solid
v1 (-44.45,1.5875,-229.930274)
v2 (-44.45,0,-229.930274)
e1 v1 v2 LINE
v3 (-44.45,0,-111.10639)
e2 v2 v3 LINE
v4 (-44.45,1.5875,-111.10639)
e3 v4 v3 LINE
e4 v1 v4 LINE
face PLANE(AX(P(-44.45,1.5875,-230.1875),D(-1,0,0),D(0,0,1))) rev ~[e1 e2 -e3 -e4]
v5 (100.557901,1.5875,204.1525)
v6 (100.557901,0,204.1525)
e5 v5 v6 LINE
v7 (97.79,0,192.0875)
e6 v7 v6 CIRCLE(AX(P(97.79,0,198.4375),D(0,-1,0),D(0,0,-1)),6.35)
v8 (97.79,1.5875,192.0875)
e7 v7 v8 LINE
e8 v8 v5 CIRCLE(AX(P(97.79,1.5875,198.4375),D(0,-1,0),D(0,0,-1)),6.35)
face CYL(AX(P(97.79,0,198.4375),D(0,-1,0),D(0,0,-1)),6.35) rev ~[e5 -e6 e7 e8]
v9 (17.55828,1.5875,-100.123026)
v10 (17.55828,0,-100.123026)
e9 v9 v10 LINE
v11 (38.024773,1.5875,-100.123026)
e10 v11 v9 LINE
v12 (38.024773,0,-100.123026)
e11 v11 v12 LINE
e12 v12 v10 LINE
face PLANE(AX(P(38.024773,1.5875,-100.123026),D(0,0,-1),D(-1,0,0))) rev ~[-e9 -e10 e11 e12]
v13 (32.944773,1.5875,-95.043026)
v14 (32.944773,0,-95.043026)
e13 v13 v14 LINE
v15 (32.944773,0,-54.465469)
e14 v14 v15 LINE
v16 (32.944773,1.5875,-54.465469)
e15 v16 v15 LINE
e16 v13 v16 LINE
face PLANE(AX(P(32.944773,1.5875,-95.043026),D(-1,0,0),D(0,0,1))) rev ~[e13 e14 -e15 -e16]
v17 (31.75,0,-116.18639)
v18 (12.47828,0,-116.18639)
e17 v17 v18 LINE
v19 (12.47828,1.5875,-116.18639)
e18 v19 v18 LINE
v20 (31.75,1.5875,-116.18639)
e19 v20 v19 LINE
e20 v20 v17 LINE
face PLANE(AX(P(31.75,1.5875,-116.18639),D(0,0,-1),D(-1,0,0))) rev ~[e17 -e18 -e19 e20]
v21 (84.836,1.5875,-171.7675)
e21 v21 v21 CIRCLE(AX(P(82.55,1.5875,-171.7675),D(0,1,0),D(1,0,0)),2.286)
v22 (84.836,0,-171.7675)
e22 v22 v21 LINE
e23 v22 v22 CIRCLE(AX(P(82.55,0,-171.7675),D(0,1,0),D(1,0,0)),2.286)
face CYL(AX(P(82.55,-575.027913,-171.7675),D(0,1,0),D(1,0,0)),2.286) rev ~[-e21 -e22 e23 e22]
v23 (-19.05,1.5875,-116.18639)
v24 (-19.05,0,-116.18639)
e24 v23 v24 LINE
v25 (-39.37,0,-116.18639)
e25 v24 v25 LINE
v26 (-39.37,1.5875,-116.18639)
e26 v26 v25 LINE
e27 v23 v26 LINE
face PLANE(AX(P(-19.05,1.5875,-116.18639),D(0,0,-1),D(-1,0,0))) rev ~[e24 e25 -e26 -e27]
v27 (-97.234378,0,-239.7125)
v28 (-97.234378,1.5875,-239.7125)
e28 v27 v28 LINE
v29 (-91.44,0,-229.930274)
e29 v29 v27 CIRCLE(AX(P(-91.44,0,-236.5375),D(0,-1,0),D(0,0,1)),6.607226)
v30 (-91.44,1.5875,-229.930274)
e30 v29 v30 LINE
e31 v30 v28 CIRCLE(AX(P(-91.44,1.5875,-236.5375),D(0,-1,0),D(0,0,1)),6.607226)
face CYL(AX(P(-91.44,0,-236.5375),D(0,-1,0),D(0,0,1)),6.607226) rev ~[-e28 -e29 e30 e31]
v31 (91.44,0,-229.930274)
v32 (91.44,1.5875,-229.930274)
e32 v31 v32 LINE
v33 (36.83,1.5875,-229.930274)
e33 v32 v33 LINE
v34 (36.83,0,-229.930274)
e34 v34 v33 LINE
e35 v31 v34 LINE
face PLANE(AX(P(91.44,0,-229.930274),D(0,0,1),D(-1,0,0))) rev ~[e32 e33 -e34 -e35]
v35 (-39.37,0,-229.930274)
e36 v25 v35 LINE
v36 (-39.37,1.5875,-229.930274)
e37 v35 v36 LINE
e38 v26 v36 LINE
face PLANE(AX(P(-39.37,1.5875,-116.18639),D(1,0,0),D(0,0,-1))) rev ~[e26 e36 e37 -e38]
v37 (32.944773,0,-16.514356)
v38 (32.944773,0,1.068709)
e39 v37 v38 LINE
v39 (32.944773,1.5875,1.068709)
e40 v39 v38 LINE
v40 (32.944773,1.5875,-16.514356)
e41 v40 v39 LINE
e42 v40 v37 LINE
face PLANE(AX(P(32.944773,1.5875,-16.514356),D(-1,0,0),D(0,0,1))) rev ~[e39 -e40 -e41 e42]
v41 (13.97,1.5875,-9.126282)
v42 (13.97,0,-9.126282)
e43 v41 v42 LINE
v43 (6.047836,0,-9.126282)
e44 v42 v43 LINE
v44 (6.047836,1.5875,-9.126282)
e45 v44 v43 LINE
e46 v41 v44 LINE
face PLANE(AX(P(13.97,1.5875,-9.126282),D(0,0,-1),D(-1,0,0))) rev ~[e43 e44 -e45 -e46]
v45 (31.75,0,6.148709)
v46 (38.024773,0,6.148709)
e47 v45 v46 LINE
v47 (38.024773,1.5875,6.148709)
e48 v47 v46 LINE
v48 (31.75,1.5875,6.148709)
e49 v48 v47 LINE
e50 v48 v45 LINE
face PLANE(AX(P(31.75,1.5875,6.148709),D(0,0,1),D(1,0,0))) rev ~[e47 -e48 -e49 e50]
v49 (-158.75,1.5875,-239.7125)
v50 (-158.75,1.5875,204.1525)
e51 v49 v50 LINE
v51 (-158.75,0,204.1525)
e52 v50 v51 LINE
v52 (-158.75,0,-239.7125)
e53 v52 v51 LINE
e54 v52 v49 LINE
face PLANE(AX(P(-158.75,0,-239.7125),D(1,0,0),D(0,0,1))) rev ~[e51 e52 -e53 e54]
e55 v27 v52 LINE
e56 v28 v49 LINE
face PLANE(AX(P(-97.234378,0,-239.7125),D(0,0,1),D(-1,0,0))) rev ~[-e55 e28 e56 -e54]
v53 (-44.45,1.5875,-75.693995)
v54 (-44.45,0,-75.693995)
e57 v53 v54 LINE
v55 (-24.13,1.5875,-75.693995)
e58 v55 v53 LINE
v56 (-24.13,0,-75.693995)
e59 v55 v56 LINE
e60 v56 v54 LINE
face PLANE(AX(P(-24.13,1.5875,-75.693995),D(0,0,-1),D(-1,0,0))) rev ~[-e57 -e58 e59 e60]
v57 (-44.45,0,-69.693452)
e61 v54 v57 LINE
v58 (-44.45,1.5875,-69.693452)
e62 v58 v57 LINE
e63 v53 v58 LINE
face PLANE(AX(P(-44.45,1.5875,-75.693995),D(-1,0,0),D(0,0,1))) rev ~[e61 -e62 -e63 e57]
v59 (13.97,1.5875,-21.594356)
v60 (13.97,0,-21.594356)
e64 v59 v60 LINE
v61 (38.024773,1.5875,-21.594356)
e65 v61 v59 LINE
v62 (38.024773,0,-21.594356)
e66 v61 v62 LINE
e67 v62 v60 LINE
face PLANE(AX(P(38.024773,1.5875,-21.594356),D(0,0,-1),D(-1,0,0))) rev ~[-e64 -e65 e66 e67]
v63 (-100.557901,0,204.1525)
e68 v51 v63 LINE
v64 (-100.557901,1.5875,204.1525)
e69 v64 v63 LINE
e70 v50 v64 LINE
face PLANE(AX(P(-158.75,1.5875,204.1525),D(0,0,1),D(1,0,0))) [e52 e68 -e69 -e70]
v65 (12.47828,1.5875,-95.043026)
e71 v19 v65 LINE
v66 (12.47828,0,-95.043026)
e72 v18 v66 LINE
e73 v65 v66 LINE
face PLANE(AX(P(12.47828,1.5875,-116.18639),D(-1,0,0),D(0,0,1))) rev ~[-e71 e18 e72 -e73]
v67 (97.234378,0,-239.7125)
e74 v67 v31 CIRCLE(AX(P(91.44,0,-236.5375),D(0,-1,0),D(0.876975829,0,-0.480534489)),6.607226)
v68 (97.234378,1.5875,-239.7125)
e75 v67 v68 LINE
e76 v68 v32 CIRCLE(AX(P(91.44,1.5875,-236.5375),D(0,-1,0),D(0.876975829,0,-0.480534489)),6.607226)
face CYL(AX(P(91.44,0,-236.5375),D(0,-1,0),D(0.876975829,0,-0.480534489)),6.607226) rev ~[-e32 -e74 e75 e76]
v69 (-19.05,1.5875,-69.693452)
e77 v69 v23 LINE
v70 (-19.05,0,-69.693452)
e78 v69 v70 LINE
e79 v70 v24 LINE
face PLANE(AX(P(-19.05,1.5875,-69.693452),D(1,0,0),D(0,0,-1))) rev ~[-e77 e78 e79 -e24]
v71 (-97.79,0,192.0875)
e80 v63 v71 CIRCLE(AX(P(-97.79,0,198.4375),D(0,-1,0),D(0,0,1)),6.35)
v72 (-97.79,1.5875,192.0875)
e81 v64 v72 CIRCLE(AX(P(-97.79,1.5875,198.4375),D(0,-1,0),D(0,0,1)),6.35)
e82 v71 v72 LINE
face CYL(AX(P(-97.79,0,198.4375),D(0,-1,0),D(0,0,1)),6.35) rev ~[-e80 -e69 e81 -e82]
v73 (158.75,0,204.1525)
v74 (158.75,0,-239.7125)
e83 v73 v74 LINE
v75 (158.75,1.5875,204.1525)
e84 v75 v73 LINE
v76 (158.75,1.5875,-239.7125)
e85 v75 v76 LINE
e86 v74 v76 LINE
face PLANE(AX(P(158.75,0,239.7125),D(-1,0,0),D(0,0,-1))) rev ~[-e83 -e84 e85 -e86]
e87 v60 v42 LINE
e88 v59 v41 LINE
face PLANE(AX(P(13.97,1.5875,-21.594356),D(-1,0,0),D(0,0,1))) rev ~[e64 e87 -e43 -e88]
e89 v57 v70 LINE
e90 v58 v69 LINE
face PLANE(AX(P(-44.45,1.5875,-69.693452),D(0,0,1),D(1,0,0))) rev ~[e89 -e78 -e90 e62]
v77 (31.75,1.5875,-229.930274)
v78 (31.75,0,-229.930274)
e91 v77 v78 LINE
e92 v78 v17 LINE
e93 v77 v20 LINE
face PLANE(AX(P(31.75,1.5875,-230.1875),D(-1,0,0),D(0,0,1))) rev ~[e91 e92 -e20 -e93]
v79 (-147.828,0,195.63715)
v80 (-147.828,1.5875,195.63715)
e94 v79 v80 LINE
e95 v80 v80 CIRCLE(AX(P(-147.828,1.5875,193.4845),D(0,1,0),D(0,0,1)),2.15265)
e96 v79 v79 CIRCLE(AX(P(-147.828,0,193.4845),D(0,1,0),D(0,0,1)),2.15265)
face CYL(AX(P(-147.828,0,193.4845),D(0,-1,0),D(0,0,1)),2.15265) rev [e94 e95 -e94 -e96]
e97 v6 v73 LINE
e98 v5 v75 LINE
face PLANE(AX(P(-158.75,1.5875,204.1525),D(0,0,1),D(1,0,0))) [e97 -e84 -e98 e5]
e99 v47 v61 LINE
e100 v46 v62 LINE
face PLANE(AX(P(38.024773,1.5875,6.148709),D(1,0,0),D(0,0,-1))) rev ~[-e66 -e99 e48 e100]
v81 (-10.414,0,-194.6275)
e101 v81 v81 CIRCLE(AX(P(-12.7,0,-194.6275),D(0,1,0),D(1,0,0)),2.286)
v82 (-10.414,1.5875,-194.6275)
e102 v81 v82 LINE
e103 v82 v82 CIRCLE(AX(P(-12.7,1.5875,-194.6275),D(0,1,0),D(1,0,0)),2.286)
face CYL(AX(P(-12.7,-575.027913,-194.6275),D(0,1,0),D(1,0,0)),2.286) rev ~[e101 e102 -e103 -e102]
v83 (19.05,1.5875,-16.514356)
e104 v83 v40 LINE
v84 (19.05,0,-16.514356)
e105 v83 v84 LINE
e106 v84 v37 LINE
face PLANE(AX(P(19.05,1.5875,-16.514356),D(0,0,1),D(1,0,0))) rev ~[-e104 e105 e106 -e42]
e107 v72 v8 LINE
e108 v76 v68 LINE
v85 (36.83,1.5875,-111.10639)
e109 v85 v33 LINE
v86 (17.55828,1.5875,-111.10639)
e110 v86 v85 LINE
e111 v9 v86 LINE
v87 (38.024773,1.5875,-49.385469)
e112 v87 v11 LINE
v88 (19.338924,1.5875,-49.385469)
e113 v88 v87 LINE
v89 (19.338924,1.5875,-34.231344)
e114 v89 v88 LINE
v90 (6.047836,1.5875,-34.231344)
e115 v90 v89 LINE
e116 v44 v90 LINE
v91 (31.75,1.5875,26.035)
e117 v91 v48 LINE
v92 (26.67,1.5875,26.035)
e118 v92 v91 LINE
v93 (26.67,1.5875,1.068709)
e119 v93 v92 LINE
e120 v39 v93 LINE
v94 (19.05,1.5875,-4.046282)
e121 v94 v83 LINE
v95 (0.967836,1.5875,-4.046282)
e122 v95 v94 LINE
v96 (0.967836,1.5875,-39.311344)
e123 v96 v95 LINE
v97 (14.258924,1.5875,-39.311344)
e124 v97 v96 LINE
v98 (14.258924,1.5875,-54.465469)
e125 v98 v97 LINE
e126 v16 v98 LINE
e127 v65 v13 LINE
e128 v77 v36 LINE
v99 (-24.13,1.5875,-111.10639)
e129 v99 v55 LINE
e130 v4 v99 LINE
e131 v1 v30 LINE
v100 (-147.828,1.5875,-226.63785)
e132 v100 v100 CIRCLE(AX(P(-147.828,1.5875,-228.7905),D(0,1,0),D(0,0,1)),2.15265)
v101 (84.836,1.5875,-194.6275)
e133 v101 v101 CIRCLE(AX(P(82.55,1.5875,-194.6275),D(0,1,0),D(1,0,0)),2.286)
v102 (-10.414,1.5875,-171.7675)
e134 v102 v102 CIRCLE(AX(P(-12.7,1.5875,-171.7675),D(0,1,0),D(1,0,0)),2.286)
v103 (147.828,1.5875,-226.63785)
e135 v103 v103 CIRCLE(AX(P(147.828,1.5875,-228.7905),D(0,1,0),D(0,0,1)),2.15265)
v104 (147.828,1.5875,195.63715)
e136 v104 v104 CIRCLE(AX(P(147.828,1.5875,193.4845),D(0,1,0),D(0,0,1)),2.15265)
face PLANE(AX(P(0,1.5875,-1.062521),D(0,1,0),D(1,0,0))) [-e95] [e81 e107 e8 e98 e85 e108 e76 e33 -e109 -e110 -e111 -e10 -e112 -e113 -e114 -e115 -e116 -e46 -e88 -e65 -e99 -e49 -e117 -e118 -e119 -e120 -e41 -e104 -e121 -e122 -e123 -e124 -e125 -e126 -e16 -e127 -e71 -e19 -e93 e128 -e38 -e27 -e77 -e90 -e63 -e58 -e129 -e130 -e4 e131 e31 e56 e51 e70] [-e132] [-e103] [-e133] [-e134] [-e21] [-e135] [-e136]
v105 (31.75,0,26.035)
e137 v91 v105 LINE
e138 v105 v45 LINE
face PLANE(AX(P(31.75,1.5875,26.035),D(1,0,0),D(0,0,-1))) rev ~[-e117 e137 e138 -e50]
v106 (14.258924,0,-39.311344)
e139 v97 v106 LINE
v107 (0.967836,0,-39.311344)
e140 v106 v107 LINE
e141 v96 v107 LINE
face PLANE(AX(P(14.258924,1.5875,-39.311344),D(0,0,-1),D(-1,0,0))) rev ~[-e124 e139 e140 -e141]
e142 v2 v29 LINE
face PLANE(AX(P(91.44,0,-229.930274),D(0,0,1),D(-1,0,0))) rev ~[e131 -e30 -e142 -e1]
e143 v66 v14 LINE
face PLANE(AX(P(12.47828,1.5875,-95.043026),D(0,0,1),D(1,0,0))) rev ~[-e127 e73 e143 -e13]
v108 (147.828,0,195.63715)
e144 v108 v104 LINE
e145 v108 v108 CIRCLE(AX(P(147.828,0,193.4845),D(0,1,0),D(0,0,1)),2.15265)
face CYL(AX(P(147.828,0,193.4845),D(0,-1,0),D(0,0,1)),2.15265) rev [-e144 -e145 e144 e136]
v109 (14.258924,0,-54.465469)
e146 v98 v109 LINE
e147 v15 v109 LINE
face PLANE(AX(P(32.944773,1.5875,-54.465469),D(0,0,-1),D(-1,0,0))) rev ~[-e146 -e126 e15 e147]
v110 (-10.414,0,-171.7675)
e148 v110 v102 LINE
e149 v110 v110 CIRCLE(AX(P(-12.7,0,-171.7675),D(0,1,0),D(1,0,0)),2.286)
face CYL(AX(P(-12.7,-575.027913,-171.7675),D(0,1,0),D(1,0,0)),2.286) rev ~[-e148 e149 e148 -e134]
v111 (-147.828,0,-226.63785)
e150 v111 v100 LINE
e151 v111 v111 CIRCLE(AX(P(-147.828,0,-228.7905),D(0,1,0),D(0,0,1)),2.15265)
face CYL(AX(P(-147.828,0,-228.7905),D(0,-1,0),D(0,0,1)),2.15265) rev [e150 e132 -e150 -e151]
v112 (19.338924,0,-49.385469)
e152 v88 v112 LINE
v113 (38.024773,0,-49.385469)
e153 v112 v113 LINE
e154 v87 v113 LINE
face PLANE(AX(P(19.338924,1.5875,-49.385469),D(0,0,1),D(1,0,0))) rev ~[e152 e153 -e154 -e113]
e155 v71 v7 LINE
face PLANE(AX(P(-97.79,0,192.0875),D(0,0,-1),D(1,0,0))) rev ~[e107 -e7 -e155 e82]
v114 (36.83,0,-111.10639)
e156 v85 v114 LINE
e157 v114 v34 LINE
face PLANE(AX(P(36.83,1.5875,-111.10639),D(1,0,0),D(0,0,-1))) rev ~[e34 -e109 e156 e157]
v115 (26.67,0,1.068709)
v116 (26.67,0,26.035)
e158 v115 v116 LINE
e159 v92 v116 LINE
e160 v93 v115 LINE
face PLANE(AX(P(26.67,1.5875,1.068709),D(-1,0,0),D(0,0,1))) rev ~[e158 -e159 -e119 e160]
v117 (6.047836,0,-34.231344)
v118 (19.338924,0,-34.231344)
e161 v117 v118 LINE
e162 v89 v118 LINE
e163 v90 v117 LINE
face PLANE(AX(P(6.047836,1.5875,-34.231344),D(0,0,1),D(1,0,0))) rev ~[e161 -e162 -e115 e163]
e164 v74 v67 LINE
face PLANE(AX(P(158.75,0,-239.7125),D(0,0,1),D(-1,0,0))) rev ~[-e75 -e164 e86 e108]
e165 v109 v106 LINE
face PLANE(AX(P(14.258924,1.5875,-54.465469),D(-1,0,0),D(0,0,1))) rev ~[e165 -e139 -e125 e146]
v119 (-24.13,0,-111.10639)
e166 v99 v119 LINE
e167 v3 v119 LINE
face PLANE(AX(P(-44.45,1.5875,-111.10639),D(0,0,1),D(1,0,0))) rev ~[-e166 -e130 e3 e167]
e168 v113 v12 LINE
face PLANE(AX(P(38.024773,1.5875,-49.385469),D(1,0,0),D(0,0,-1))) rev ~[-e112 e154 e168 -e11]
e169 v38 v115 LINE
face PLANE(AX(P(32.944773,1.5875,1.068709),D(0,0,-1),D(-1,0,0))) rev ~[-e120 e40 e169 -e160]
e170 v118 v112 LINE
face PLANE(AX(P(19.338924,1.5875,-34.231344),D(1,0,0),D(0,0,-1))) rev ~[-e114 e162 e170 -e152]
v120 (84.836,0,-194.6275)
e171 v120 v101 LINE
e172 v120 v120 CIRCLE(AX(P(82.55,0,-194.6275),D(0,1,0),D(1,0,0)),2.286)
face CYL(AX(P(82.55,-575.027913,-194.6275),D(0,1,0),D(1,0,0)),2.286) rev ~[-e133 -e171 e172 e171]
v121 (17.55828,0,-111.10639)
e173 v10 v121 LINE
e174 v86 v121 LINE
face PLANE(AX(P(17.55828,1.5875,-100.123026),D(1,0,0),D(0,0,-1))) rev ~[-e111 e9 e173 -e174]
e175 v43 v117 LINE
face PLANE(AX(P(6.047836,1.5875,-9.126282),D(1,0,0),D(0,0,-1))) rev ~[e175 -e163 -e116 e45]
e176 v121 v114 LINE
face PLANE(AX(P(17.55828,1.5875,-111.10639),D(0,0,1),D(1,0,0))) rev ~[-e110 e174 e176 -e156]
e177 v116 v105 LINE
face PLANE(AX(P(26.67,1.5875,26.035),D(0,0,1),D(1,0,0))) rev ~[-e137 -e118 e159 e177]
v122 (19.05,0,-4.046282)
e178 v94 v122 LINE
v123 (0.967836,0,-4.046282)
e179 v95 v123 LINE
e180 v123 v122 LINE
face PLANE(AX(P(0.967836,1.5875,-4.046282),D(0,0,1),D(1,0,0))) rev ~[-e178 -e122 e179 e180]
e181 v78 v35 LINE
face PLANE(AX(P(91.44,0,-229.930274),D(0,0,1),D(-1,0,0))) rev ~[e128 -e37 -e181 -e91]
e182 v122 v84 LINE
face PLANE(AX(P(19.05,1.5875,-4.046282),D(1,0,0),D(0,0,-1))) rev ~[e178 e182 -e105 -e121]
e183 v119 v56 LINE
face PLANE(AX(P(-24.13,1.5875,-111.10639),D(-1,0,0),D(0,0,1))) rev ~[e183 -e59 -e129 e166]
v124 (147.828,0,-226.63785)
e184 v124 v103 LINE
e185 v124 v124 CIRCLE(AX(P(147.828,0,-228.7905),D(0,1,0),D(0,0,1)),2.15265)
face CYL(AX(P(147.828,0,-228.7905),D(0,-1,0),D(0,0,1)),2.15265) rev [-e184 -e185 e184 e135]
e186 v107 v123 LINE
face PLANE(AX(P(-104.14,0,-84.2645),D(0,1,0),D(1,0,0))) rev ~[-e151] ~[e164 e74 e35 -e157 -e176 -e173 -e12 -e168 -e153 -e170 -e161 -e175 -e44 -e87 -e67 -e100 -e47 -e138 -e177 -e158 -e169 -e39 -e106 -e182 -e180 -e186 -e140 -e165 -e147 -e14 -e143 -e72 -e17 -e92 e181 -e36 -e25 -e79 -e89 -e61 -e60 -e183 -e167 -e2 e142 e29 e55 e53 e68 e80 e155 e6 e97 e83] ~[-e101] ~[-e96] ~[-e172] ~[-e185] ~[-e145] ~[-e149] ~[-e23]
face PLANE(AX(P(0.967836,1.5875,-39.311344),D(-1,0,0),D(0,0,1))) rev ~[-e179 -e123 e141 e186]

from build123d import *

# Parameters (mm, degrees)
SKETCH1_R                     = 2.15265
SKETCH1_R_2                   = 9.525
SKETCH1_R_3                   = 2.4892
BOSS_EXTRUDE1_DEPTH           = 1.5875
CUT_EXTRUDE1_DEPTH            = 2.54
F_13_64_0_18_DIAMETER_HOLE1_D = 4.572
SKETCH7_W                     = 317.5
SKETCH7_H                     = 35.56
CUT_EXTRUDE2_DEPTH            = 288.517243505


with BuildPart() as part:
    # Sketch1 → Boss-Extrude1 (new body)
    # profile 1 of 21: a face of its own
    with BuildSketch(Plane(origin=(0, 0, 0), x_dir=(1, 0, 0), z_dir=(0, 1, 0))):
        with BuildLine():
            Line((-97.234377561, 239.7125), (-158.75, 239.7125))
            Line((-158.75, 239.7125), (-158.75, -239.7125))
            Line((-158.75, -239.7125), (158.75, -239.7125))
            Line((158.75, -239.7125), (158.75, 239.7125))
            Line((158.75, 239.7125), (97.234377561, 239.7125))
            ThreePointArc((97.234377561, 239.7125), (97.124777, 233.170194434), (91.44, 229.930273932))
            Line((91.44, 229.930273932), (-91.44, 229.930273932))
            ThreePointArc((-91.44, 229.930273932), (-97.124777, 233.170194434), (-97.234377561, 239.7125))
        make_face()
        with Locations(Location((-147.828, -193.4845, 0), (0, 0, 270))):
            Circle(SKETCH1_R, mode=Mode.SUBTRACT)
        with Locations((-104.14, -4.1275)):
            Circle(SKETCH1_R_2, mode=Mode.SUBTRACT)
        with BuildLine():
            ThreePointArc((-97.79, -204.7875), (-104.14, -198.4375), (-97.79, -192.0875))
            Line((-97.79, -192.0875), (97.79, -192.0875))
            ThreePointArc((97.79, -192.0875), (104.14, -198.4375), (97.79, -204.7875))
            Line((97.79, -204.7875), (-97.79, -204.7875))
        make_face(mode=Mode.SUBTRACT)
        with Locations(Location((147.828, -193.4845, 0), (0, 0, 270))):
            Circle(SKETCH1_R, mode=Mode.SUBTRACT)
        with Locations((104.14, -4.1275)):
            Circle(SKETCH1_R_2, mode=Mode.SUBTRACT)
        with Locations((-126.365, 30.1625)):
            Circle(SKETCH1_R, mode=Mode.SUBTRACT)
        with Locations((-126.365, 49.2125)):
            Circle(SKETCH1_R, mode=Mode.SUBTRACT)
        with Locations((-104.14, 40.0685)):
            Circle(SKETCH1_R_2, mode=Mode.SUBTRACT)
        with Locations((-104.14, 84.2645)):
            Circle(SKETCH1_R_3, mode=Mode.SUBTRACT)
        with Locations((-126.365, 163.5125)):
            Circle(SKETCH1_R, mode=Mode.SUBTRACT)
        with Locations((-126.365, 182.5625)):
            Circle(SKETCH1_R, mode=Mode.SUBTRACT)
        with Locations((-104.14, 128.4605)):
            Circle(SKETCH1_R_2, mode=Mode.SUBTRACT)
        with Locations((-104.14, 172.6565)):
            Circle(SKETCH1_R_2, mode=Mode.SUBTRACT)
        with Locations(Location((-147.828, 228.7905, 0), (0, 0, 270))):
            Circle(SKETCH1_R, mode=Mode.SUBTRACT)
        with Locations((-104.14, 216.8525)):
            Circle(SKETCH1_R_2, mode=Mode.SUBTRACT)
        with Locations((104.14, 40.0685)):
            Circle(SKETCH1_R_2, mode=Mode.SUBTRACT)
        with Locations((126.365, 30.1625)):
            Circle(SKETCH1_R, mode=Mode.SUBTRACT)
        with Locations((126.365, 49.2125)):
            Circle(SKETCH1_R, mode=Mode.SUBTRACT)
        with Locations((104.14, 84.2645)):
            Circle(SKETCH1_R_3, mode=Mode.SUBTRACT)
        with Locations((104.14, 128.4605)):
            Circle(SKETCH1_R_2, mode=Mode.SUBTRACT)
        with Locations((104.14, 172.6565)):
            Circle(SKETCH1_R_2, mode=Mode.SUBTRACT)
        with Locations((126.365, 163.5125)):
            Circle(SKETCH1_R, mode=Mode.SUBTRACT)
        with Locations((126.365, 182.5625)):
            Circle(SKETCH1_R, mode=Mode.SUBTRACT)
        with Locations((104.14, 216.8525)):
            Circle(SKETCH1_R_2, mode=Mode.SUBTRACT)
        with Locations(Location((147.828, 228.7905, 0), (0, 0, 270))):
            Circle(SKETCH1_R, mode=Mode.SUBTRACT)
    # profile 2 of 21: a face of its own
    with BuildSketch(Plane(origin=(0, 0, 0), x_dir=(1, 0, 0), z_dir=(0, 1, 0))):
        with Locations((-104.14, 216.8525)):
            Circle(SKETCH1_R_2)
    # profile 3 of 21: a face of its own
    with BuildSketch(Plane(origin=(0, 0, 0), x_dir=(1, 0, 0), z_dir=(0, 1, 0))):
        with Locations((-104.14, 172.6565)):
            Circle(SKETCH1_R_2)
    # profile 4 of 21: a face of its own
    with BuildSketch(Plane(origin=(0, 0, 0), x_dir=(1, 0, 0), z_dir=(0, 1, 0))):
        with Locations((-104.14, 128.4605)):
            Circle(SKETCH1_R_2)
    # profile 5 of 21: a face of its own
    with BuildSketch(Plane(origin=(0, 0, 0), x_dir=(1, 0, 0), z_dir=(0, 1, 0))):
        with Locations((-104.14, -4.1275)):
            Circle(SKETCH1_R_2)
    # profile 6 of 21: a face of its own
    with BuildSketch(Plane(origin=(0, 0, 0), x_dir=(1, 0, 0), z_dir=(0, 1, 0))):
        with Locations((-104.14, 40.0685)):
            Circle(SKETCH1_R_2)
    # profile 7 of 21: a face of its own
    with BuildSketch(Plane(origin=(0, 0, 0), x_dir=(1, 0, 0), z_dir=(0, 1, 0))):
        with Locations((104.14, 40.0685)):
            Circle(SKETCH1_R_2)
    # profile 8 of 21: a face of its own
    with BuildSketch(Plane(origin=(0, 0, 0), x_dir=(1, 0, 0), z_dir=(0, 1, 0))):
        with Locations((104.14, -4.1275)):
            Circle(SKETCH1_R_2)
    # profile 9 of 21: a face of its own
    with BuildSketch(Plane(origin=(0, 0, 0), x_dir=(1, 0, 0), z_dir=(0, 1, 0))):
        with Locations((104.14, 172.6565)):
            Circle(SKETCH1_R_2)
    # profile 10 of 21: a face of its own
    with BuildSketch(Plane(origin=(0, 0, 0), x_dir=(1, 0, 0), z_dir=(0, 1, 0))):
        with Locations((104.14, 216.8525)):
            Circle(SKETCH1_R_2)
    # profile 11 of 21: a face of its own
    with BuildSketch(Plane(origin=(0, 0, 0), x_dir=(1, 0, 0), z_dir=(0, 1, 0))):
        with Locations((104.14, 128.4605)):
            Circle(SKETCH1_R_2)
    # profile 12 of 21: a face of its own
    with BuildSketch(Plane(origin=(0, 0, 0), x_dir=(1, 0, 0), z_dir=(0, 1, 0))):
        with Locations((126.365, 30.1625)):
            Circle(SKETCH1_R)
    # profile 13 of 21: a face of its own
    with BuildSketch(Plane(origin=(0, 0, 0), x_dir=(1, 0, 0), z_dir=(0, 1, 0))):
        with Locations((126.365, 49.2125)):
            Circle(SKETCH1_R)
    # profile 14 of 21: a face of its own
    with BuildSketch(Plane(origin=(0, 0, 0), x_dir=(1, 0, 0), z_dir=(0, 1, 0))):
        with Locations((126.365, 163.5125)):
            Circle(SKETCH1_R)
    # profile 15 of 21: a face of its own
    with BuildSketch(Plane(origin=(0, 0, 0), x_dir=(1, 0, 0), z_dir=(0, 1, 0))):
        with Locations((126.365, 182.5625)):
            Circle(SKETCH1_R)
    # profile 16 of 21: a face of its own
    with BuildSketch(Plane(origin=(0, 0, 0), x_dir=(1, 0, 0), z_dir=(0, 1, 0))):
        with Locations((-126.365, 163.5125)):
            Circle(SKETCH1_R)
    # profile 17 of 21: a face of its own
    with BuildSketch(Plane(origin=(0, 0, 0), x_dir=(1, 0, 0), z_dir=(0, 1, 0))):
        with Locations((-126.365, 182.5625)):
            Circle(SKETCH1_R)
    # profile 18 of 21: a face of its own
    with BuildSketch(Plane(origin=(0, 0, 0), x_dir=(1, 0, 0), z_dir=(0, 1, 0))):
        with Locations((-126.365, 49.2125)):
            Circle(SKETCH1_R)
    # profile 19 of 21: a face of its own
    with BuildSketch(Plane(origin=(0, 0, 0), x_dir=(1, 0, 0), z_dir=(0, 1, 0))):
        with Locations((-126.365, 30.1625)):
            Circle(SKETCH1_R)
    # profile 20 of 21: a face of its own
    with BuildSketch(Plane(origin=(0, 0, 0), x_dir=(1, 0, 0), z_dir=(0, 1, 0))):
        with Locations((104.14, 84.2645)):
            Circle(SKETCH1_R_3)
    # profile 21 of 21: a face of its own
    with BuildSketch(Plane(origin=(0, 0, 0), x_dir=(1, 0, 0), z_dir=(0, 1, 0))):
        with Locations((-104.14, 84.2645)):
            Circle(SKETCH1_R_3)
    extrude(amount=BOSS_EXTRUDE1_DEPTH)

    # Sketch2 → Cut-Extrude1 (cut)
    with BuildSketch(Plane(origin=(0, 1.5875, 0), x_dir=(1, 0, 0), z_dir=(0, 1, 0))):
        Polygon((-39.37, 230.1875), (-44.45, 230.1875), (-44.45, 116.18638997), (-44.45, 111.10638997), (-39.37, 111.10638997), (-24.13, 111.10638997), (-24.13, 80.773994761), (-24.13, 75.693994761), (-44.45, 75.693994761), (-44.45, 69.693451711), (-19.05, 69.693451711), (-19.05, 75.693994761), (-19.05, 111.10638997), (-19.05, 116.18638997), (-39.37, 116.18638997), align=None)
        Polygon((36.83, 230.1875), (31.75, 230.1875), (31.75, 116.18638997), (12.478280381, 116.18638997), (12.478280381, 111.10638997), (12.478280381, 97.725538056), (12.478280381, 95.043026282), (27.466923788, 95.043026282), (32.944773159, 95.043026282), (32.944773159, 94.327747899), (32.944773159, 54.465469302), (19.338923788, 54.465469302), (14.258923788, 54.465469302), (14.258923788, 49.385469302), (14.258923788, 39.311344325), (6.047836395, 39.311344325), (0.967836395, 39.311344325), (0.967836395, 34.231344325), (0.967836395, 9.126281939), (0.967836395, 4.046281939), (6.047836395, 4.046281939), (13.97, 4.046281939), (19.05, 4.046281939), (19.05, 9.126281939), (19.05, 16.514356244), (32.944773159, 16.514356244), (32.944773159, -1.068708856), (26.67, -1.068708856), (26.67, -6.148708856), (26.67, -26.035), (31.75, -26.035), (31.75, -6.148708856), (32.944773159, -6.148708856), (38.024773159, -6.148708856), (38.024773159, -1.068708856), (38.024773159, 16.514356244), (38.024773159, 21.594356244), (19.05, 21.594356244), (13.97, 21.594356244), (13.97, 16.514356244), (13.97, 9.126281939), (6.047836395, 9.126281939), (6.047836395, 34.231344325), (14.258923788, 34.231344325), (19.338923788, 34.231344325), (19.338923788, 39.311344325), (19.338923788, 49.385469302), (38.024773159, 49.385469302), (38.024773159, 54.465469302), (38.024773159, 94.327747899), (38.024773159, 95.043026282), (38.024773159, 100.123026282), (19.090989095, 100.123026282), (17.558280381, 100.123026282), (17.558280381, 111.10638997), (36.83, 111.10638997), (36.83, 116.18638997), align=None)
    extrude(amount=-CUT_EXTRUDE1_DEPTH, mode=Mode.SUBTRACT)

    # 13/64 (0.18) Diameter Hole1 (through all)
    with Locations(Plane(origin=(0, 0, 0), x_dir=(-1, 0, 0), z_dir=(0, -1, 0))):
        with Locations((-82.55, 194.6275), (12.7, 194.6275), (-82.55, 171.7675), (12.7, 171.7675)):
            Hole(F_13_64_0_18_DIAMETER_HOLE1_D / 2)

    # Sketch7 → Cut-Extrude2 (cut, through all)
    with BuildSketch(Plane(origin=(0, 1.5875, 0), x_dir=(1, 0, 0), z_dir=(0, 1, 0))):
        with Locations((0, -221.9325)):
            Rectangle(SKETCH7_W, SKETCH7_H)
    extrude(amount=-CUT_EXTRUDE2_DEPTH, mode=Mode.SUBTRACT)


solid = part.part
